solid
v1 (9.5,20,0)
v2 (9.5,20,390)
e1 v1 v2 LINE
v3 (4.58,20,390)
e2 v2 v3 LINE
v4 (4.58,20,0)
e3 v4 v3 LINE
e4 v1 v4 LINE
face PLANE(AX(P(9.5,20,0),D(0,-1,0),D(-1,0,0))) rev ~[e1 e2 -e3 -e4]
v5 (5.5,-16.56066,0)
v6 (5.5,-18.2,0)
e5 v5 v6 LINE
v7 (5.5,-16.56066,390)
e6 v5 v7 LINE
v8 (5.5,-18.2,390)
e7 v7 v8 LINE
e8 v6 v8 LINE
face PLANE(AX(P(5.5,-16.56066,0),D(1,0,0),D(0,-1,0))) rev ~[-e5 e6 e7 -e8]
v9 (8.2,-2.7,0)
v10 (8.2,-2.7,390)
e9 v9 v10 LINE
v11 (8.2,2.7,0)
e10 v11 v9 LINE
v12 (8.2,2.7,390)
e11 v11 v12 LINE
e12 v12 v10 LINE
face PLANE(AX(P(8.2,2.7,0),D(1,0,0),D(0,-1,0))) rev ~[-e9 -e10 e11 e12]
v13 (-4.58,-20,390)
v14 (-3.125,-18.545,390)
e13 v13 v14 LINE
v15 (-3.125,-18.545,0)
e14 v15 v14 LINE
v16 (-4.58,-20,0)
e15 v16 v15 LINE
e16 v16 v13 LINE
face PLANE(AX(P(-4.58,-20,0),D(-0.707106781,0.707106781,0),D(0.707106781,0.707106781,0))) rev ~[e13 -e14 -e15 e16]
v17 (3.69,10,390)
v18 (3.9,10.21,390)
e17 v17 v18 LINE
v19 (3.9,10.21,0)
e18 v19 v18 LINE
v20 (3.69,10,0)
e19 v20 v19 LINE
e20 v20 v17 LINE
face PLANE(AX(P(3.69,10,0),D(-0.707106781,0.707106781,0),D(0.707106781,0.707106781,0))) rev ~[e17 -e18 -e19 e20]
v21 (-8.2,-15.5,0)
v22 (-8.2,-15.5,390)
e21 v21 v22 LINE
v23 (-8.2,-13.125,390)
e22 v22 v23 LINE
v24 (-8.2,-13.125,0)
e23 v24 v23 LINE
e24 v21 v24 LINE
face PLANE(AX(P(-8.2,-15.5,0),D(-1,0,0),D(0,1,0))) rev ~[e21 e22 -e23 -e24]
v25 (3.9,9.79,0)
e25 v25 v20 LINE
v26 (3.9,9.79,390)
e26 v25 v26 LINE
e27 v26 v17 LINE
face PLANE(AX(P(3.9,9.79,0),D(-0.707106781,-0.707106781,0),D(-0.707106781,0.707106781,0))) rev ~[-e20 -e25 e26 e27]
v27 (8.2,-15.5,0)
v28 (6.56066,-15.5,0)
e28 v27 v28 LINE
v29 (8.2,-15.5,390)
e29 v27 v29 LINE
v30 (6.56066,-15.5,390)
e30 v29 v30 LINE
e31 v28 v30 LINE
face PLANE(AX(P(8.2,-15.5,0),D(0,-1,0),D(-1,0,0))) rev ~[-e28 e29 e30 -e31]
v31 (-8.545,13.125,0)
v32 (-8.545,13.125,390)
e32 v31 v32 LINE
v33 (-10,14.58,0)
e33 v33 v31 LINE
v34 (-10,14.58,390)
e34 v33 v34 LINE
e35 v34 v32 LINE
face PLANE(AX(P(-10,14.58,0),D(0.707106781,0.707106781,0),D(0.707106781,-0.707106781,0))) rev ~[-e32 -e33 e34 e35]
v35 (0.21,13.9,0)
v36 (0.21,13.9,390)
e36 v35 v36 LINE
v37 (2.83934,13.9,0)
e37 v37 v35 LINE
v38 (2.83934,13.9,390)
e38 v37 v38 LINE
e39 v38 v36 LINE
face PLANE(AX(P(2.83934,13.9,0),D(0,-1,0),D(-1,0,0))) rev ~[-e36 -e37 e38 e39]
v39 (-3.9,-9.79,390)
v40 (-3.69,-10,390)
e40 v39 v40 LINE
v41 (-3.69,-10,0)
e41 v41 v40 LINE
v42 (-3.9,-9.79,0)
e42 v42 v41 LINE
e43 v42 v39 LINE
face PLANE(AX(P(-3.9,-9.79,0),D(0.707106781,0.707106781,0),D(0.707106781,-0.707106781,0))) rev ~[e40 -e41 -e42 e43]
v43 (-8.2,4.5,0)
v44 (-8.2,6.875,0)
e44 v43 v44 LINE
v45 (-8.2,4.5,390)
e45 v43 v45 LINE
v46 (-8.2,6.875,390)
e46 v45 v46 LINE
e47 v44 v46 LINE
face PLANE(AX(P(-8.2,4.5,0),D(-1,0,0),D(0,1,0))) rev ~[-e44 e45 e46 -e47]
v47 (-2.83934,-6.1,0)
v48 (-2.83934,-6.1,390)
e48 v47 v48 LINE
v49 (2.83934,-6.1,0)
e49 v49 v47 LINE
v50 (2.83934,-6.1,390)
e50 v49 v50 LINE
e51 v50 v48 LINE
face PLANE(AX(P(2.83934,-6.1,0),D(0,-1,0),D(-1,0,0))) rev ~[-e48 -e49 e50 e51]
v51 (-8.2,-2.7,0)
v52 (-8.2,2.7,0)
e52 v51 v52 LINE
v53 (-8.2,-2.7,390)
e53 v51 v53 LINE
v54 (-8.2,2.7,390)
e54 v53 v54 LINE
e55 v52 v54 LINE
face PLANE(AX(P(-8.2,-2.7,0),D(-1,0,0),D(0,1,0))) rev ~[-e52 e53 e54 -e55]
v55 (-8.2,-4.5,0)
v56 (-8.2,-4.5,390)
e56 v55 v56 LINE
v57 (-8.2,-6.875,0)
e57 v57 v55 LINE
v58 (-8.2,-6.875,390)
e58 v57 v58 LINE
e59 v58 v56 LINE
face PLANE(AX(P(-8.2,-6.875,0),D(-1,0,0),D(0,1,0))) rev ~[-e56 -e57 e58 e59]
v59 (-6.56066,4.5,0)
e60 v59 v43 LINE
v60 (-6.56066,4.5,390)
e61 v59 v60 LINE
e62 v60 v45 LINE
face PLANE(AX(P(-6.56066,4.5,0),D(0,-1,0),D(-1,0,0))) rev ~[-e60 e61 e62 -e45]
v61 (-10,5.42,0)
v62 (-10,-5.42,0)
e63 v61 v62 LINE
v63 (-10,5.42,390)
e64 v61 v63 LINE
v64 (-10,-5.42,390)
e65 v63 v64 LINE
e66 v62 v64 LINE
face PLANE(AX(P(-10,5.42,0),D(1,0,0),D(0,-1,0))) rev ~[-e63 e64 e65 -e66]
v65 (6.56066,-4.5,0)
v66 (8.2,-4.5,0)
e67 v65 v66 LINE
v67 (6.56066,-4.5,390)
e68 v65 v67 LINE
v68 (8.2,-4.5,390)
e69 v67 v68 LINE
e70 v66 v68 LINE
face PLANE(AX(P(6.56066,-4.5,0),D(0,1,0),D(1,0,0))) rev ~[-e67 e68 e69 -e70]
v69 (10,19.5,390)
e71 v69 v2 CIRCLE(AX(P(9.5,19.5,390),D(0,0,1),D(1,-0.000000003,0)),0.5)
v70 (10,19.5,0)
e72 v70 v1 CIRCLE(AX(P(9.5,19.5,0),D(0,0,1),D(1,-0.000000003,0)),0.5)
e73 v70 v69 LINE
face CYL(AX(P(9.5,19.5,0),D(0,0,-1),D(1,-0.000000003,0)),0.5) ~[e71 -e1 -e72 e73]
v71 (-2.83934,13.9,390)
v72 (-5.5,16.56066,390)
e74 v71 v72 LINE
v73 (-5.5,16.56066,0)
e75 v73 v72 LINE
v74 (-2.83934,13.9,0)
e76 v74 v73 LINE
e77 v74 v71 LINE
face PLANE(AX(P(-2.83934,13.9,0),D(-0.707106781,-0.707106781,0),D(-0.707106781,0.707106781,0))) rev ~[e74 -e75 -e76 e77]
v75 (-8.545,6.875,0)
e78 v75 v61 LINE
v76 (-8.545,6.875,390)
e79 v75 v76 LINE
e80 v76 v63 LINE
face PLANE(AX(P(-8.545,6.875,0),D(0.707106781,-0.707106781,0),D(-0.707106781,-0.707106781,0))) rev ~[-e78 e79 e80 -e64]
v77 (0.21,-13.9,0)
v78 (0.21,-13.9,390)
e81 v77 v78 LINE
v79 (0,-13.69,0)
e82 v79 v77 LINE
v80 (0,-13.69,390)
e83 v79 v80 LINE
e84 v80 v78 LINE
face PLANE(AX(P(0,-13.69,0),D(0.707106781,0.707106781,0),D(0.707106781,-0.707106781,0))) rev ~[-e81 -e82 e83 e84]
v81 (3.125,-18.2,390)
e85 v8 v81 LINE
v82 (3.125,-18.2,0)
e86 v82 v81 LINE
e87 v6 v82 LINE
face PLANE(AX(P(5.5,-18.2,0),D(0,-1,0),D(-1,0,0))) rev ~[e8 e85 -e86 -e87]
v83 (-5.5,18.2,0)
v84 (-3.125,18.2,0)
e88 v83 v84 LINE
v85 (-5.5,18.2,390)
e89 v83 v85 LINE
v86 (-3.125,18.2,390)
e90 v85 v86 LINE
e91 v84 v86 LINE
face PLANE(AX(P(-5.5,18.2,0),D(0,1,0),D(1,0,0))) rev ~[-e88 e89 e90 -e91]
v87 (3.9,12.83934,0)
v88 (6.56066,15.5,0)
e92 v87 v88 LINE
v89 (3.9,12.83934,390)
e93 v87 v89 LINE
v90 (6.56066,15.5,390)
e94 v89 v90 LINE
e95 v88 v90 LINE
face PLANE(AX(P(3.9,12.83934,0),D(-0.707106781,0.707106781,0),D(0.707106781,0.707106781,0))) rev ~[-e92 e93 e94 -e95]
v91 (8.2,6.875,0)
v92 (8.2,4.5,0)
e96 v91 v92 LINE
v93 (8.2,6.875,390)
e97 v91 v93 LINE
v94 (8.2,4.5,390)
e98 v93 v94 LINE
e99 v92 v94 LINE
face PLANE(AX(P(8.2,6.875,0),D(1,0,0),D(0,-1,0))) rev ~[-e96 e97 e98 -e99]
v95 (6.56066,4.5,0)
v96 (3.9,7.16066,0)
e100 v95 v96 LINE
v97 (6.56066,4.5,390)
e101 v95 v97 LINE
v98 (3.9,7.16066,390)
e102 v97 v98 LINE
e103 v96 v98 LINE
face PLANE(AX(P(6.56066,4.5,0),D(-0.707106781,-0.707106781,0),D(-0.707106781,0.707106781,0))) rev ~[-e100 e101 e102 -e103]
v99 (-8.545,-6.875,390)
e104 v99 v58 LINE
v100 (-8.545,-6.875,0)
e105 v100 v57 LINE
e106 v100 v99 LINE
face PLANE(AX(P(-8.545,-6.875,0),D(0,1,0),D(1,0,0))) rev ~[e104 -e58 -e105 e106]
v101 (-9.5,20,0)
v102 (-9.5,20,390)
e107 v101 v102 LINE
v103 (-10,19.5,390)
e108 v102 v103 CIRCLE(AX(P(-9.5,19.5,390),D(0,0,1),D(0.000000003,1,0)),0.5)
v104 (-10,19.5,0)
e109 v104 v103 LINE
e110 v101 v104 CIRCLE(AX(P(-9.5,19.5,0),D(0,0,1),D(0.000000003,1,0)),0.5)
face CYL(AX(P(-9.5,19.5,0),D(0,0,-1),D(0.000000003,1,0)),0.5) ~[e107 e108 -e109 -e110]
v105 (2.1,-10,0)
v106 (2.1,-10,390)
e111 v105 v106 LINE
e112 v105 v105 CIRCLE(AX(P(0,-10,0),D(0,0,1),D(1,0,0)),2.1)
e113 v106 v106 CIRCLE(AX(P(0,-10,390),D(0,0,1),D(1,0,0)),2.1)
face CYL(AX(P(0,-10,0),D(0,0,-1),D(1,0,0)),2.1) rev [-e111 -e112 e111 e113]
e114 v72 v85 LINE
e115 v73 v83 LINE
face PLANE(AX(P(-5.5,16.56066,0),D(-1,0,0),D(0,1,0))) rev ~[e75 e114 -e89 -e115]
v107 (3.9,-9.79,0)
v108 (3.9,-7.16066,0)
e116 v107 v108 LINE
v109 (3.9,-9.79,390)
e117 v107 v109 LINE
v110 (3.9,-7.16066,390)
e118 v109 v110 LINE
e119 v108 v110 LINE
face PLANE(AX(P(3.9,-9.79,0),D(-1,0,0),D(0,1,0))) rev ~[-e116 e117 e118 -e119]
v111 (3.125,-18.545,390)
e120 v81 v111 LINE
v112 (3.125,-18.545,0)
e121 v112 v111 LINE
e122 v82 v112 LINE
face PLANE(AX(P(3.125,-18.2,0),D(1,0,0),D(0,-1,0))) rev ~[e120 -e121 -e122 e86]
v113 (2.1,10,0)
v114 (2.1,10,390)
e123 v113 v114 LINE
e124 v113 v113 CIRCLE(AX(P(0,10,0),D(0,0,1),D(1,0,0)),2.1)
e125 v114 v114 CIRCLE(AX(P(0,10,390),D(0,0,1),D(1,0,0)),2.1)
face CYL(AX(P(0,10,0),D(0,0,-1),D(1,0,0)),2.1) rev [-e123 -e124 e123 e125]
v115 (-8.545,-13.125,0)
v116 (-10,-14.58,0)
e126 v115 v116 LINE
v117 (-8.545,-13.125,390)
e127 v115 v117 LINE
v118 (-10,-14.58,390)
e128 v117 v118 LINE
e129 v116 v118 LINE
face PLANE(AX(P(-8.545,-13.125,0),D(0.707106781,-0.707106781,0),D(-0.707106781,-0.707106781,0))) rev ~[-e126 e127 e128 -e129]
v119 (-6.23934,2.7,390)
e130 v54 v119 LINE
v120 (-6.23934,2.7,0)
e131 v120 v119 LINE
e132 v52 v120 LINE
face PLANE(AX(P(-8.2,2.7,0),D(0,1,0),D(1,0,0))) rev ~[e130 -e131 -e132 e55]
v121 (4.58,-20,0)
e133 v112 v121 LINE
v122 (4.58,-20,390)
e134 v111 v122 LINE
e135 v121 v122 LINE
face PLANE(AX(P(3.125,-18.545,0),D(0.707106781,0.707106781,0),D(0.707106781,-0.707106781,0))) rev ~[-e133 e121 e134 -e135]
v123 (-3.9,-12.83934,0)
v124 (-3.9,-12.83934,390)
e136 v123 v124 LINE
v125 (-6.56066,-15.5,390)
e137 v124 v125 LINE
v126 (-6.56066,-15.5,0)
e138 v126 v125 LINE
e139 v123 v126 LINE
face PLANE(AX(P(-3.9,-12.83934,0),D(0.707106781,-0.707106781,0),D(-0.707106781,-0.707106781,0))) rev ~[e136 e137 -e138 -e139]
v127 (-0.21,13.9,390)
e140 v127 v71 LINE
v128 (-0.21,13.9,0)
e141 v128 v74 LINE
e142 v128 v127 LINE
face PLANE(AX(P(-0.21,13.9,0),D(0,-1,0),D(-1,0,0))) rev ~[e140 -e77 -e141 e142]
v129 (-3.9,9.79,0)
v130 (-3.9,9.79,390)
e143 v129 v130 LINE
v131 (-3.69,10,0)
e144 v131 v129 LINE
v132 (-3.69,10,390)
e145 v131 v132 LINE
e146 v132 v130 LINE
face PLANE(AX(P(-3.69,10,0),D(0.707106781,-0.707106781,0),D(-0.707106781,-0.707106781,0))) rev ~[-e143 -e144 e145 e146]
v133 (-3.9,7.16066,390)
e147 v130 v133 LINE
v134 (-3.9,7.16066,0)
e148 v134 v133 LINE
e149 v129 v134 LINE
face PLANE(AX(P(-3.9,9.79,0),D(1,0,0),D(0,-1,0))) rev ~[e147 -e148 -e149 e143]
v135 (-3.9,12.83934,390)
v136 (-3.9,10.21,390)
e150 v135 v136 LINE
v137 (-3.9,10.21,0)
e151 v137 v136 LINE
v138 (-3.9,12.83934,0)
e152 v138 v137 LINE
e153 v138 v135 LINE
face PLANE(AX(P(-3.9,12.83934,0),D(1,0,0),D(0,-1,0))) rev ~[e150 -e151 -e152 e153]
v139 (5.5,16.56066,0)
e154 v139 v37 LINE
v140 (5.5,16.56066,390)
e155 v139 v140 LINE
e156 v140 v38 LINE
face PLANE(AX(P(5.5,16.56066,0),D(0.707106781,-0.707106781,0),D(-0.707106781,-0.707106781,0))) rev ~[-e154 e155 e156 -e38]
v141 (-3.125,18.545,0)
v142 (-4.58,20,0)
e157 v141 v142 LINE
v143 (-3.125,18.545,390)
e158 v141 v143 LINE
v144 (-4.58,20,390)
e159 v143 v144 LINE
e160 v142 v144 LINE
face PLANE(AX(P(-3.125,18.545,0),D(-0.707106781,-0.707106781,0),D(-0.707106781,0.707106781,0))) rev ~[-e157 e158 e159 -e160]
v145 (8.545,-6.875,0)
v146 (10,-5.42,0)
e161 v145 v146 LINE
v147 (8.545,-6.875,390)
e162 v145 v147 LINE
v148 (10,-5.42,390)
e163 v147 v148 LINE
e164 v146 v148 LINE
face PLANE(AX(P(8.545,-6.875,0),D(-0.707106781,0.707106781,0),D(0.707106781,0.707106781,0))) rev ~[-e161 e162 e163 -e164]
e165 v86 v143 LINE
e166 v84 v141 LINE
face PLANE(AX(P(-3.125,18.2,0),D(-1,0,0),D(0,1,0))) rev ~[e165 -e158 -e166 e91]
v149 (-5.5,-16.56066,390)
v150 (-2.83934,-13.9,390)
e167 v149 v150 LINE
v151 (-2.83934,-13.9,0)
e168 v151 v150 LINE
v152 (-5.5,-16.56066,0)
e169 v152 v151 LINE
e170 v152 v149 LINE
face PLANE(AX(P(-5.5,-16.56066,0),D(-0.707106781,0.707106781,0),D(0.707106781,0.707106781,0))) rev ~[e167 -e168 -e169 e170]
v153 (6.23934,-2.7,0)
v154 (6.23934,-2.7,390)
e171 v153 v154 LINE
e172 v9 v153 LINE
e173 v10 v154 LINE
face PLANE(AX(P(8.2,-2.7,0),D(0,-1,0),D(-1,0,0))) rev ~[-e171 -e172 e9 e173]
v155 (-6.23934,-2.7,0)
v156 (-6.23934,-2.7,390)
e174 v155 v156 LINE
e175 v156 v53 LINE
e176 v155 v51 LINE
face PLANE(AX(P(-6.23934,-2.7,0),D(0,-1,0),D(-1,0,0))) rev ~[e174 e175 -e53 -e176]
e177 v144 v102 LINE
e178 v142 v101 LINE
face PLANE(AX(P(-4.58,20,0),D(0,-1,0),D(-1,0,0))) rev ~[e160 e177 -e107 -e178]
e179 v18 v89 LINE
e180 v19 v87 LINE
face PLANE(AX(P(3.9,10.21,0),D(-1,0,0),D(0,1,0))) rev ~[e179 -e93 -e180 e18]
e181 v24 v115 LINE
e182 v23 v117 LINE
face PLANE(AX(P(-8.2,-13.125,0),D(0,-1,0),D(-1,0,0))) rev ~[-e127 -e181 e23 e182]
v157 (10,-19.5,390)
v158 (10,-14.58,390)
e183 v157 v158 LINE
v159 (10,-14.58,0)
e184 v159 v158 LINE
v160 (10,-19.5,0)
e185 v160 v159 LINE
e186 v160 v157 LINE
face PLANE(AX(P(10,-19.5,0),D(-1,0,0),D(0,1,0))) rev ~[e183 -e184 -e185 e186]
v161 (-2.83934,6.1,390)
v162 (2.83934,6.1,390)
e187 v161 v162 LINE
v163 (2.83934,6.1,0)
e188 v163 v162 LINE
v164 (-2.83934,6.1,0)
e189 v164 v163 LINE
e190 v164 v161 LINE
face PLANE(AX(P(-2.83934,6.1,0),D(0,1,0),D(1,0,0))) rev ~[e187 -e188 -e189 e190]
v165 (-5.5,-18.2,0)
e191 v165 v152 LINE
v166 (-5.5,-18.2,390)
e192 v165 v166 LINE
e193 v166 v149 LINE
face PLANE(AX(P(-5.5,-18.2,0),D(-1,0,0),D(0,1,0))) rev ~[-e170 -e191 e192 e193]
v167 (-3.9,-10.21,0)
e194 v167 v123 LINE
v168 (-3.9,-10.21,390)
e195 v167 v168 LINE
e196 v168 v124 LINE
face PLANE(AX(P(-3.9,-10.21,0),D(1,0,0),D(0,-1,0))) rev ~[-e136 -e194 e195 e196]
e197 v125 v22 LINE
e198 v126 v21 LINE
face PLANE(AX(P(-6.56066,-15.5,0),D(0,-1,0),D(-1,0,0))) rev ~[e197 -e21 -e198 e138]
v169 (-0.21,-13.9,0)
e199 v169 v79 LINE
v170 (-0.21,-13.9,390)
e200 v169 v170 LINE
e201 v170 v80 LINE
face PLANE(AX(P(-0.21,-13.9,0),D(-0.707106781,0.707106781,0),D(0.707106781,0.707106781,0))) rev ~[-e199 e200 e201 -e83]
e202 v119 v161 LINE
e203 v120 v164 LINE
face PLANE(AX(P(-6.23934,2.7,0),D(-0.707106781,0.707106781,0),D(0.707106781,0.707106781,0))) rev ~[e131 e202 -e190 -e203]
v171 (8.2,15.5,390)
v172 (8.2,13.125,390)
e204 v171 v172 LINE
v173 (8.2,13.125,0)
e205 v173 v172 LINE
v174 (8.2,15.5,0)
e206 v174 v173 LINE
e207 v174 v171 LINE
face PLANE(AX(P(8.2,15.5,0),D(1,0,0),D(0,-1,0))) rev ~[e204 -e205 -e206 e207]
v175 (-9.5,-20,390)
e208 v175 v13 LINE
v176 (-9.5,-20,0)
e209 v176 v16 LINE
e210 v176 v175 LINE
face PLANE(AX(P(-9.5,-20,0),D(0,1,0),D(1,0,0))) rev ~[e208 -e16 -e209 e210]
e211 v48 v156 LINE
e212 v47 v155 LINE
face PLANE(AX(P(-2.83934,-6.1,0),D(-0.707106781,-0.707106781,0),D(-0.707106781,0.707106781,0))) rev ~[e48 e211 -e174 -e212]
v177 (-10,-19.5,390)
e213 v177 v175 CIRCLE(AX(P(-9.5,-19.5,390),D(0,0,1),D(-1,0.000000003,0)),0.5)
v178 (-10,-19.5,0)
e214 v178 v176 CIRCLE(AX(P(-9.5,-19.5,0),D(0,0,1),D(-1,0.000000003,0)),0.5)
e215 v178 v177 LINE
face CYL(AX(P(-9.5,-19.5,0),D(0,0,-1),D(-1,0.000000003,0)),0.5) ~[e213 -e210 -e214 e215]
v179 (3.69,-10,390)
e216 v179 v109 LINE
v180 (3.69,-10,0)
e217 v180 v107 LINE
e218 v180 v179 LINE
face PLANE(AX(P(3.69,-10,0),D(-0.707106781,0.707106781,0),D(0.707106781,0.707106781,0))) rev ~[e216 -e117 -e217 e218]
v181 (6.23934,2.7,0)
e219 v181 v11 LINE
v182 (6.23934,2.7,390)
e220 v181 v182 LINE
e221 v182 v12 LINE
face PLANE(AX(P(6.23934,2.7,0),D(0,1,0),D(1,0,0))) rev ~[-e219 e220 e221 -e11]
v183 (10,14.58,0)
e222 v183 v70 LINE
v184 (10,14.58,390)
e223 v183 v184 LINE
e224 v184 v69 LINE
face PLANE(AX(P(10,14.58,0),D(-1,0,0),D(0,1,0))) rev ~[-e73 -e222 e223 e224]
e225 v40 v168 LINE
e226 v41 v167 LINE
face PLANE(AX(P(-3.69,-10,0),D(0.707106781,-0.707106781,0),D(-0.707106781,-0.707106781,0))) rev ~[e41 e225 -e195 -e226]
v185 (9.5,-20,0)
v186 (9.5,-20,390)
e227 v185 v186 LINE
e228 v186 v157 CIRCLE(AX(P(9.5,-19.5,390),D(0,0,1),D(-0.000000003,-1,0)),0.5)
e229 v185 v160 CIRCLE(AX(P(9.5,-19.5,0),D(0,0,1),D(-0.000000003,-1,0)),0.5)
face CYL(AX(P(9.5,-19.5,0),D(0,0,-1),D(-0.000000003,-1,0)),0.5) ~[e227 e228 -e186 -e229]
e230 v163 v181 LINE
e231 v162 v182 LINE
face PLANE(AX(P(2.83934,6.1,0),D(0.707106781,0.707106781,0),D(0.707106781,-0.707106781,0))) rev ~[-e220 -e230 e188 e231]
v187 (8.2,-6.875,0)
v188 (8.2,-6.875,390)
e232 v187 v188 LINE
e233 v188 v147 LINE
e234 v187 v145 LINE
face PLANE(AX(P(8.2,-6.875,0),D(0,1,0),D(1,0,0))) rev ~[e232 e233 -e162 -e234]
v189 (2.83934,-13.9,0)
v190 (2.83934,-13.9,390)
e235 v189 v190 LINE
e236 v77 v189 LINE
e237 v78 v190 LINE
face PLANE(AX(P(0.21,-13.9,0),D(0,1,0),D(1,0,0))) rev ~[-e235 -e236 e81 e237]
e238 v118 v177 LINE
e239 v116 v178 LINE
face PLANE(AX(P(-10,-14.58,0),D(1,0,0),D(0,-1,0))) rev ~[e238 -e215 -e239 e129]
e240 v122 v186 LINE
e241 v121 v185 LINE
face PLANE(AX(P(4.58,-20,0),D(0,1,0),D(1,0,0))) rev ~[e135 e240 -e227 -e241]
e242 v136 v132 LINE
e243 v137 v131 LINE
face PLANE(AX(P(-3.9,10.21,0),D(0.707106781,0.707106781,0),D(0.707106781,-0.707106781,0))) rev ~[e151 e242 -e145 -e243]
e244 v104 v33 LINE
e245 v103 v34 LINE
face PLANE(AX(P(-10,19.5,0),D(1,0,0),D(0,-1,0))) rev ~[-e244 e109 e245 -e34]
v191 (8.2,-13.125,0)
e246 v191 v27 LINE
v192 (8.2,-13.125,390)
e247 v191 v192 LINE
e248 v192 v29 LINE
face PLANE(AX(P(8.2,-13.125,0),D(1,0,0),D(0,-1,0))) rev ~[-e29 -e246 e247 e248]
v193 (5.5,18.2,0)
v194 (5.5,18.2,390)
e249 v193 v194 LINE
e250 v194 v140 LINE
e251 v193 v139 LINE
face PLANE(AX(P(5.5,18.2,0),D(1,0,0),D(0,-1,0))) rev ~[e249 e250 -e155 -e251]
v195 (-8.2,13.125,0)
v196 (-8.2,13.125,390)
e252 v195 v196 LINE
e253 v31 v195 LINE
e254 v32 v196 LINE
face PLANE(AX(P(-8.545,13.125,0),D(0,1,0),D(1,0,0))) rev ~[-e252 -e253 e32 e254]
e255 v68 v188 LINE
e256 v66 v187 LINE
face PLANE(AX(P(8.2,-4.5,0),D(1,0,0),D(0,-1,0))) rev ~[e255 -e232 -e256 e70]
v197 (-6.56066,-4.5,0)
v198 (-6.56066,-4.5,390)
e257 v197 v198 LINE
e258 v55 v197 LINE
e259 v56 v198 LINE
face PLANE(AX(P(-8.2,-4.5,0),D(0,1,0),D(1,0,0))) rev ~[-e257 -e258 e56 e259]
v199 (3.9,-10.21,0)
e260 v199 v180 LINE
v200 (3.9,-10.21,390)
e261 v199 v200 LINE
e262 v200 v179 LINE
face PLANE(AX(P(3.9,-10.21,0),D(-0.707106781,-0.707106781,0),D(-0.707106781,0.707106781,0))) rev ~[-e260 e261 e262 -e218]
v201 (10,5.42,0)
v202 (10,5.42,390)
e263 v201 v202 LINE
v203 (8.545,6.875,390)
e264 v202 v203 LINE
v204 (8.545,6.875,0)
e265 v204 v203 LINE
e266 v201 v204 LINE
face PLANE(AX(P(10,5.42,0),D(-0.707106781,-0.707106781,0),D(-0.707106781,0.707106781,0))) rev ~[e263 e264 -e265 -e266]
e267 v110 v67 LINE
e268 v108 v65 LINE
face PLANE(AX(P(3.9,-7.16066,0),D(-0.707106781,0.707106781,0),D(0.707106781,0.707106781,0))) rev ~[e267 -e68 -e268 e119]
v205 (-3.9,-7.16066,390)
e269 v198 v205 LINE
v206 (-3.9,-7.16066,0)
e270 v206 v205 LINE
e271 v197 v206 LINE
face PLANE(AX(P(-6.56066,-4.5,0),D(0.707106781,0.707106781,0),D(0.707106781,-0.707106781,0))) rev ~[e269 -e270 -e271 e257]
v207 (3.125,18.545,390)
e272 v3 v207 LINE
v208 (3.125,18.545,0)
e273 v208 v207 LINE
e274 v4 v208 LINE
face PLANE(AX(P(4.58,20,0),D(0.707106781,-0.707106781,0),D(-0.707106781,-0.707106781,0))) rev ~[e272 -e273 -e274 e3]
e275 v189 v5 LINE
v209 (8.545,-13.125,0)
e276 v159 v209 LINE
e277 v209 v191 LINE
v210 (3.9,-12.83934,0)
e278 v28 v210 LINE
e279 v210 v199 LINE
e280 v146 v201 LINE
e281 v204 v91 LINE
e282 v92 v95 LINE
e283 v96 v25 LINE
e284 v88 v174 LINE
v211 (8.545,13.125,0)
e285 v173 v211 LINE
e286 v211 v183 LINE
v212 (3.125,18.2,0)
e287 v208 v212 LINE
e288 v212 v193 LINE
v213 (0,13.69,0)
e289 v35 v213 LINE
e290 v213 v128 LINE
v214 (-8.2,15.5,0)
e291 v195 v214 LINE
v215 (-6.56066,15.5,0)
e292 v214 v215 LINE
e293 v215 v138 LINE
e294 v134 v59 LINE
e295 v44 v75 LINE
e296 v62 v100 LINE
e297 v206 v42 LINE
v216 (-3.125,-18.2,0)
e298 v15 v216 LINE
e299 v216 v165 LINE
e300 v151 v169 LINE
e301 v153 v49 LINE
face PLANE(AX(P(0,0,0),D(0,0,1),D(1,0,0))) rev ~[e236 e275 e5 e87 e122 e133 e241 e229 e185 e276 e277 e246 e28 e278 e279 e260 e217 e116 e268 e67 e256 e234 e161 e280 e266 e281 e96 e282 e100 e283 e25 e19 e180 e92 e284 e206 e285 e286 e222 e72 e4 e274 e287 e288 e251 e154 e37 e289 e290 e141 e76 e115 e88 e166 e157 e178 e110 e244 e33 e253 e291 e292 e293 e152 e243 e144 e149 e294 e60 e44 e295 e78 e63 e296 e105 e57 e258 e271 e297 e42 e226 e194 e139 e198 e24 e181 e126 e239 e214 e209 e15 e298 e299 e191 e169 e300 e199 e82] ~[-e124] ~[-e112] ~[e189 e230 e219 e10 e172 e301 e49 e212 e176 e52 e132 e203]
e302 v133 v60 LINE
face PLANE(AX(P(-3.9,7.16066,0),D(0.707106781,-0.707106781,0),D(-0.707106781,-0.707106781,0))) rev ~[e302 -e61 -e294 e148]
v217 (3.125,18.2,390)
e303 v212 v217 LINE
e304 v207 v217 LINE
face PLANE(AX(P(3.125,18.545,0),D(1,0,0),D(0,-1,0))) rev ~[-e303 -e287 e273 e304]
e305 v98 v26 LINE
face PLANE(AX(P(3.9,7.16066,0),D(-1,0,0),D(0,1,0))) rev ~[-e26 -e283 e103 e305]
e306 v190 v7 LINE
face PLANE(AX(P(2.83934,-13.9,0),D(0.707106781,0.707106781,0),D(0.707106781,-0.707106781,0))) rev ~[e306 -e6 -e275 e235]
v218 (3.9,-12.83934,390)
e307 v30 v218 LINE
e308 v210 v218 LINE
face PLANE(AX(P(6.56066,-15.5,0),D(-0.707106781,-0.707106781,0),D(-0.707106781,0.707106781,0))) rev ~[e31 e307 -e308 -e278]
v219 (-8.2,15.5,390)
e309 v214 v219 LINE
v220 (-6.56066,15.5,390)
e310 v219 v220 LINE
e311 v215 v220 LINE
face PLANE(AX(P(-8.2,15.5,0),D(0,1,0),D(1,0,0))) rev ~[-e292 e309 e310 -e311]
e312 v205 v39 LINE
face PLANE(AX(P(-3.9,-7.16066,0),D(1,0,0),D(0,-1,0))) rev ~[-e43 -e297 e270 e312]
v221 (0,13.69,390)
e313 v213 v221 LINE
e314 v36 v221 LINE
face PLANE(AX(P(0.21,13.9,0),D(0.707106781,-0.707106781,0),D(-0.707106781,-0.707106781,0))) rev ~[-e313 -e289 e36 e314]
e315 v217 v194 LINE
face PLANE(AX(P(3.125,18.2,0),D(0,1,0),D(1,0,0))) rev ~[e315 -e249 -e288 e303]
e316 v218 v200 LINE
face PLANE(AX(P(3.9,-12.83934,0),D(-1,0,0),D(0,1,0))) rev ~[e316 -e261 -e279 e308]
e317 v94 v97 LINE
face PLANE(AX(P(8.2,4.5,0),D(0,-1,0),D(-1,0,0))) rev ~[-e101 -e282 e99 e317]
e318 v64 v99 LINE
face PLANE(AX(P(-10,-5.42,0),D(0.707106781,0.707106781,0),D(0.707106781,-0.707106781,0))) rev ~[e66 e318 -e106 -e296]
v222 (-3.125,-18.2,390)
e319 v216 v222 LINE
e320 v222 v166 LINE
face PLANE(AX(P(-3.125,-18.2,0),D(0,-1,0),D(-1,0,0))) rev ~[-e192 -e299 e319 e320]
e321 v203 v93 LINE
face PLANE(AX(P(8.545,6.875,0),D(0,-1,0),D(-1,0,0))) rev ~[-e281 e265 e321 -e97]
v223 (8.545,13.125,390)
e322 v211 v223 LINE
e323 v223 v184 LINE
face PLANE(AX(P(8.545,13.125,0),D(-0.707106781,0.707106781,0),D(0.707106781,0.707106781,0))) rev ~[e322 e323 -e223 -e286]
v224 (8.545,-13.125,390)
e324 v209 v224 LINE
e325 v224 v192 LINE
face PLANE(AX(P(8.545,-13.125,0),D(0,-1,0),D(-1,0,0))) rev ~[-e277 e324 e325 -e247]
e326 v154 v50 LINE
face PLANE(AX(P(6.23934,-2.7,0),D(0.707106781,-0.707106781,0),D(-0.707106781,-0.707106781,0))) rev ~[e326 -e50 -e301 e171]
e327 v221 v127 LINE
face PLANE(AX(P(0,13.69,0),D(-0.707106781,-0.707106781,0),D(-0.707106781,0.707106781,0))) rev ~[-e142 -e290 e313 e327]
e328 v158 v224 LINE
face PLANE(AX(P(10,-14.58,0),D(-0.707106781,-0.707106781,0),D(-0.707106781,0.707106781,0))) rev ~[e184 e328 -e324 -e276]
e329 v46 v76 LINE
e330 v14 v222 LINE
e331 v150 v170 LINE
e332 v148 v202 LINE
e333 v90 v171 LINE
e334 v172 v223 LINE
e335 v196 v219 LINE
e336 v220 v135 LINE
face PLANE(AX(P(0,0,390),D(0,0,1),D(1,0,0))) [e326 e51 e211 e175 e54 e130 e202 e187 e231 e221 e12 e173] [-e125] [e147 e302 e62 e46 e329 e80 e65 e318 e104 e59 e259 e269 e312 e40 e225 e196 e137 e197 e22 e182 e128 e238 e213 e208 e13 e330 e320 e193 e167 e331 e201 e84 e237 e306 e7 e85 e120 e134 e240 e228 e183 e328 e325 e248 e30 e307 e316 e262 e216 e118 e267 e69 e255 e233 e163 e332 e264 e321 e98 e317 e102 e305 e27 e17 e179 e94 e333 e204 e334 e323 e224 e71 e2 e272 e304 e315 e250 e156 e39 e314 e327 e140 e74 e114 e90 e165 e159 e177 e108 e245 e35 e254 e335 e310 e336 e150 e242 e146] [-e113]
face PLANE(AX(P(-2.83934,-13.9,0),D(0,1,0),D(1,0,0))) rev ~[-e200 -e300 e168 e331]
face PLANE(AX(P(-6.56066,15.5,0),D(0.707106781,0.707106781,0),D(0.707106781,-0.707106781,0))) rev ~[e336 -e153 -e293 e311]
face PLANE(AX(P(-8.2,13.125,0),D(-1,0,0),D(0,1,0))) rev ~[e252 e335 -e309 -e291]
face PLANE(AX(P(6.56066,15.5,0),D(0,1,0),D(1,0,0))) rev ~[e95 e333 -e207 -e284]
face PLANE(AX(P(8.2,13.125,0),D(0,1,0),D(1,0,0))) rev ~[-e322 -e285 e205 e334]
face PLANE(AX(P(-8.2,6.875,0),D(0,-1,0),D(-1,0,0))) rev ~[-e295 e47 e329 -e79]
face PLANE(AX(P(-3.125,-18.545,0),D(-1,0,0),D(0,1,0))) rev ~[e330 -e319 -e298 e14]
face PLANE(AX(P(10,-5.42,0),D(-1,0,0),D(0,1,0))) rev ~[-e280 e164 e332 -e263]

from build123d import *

# Parameters (mm, degrees)
SKETCH1_R           = 2.1
BOSS_EXTRUDE1_DEPTH = 390


with BuildPart() as part:
    # Sketch1 → Boss-Extrude1 (new body)
    with BuildSketch(Plane.XY):
        with BuildLine():
            Line((4.58, -20), (9.5, -20))
            ThreePointArc((9.5, -20), (9.853553391, -19.853553391), (10, -19.5))
            Line((10, -19.5), (10, -14.58))
            Line((10, -14.58), (8.545, -13.125))
            Line((8.545, -13.125), (8.2, -13.125))
            Line((8.2, -13.125), (8.2, -15.5))
            Line((8.2, -15.5), (6.560660172, -15.5))
            Line((6.560660172, -15.5), (3.9, -12.839339828))
            Line((3.9, -12.839339828), (3.9, -10.21))
            Line((3.9, -10.21), (3.69, -10))
            Line((3.69, -10), (3.9, -9.79))
            Line((3.9, -9.79), (3.9, -7.160660172))
            Line((3.9, -7.160660172), (6.560660172, -4.5))
            Line((6.560660172, -4.5), (8.2, -4.5))
            Line((8.2, -4.5), (8.2, -6.875))
            Line((8.2, -6.875), (8.545, -6.875))
            Line((8.545, -6.875), (10, -5.42))
            Line((10, -5.42), (10, 5.42))
            Line((10, 5.42), (8.545, 6.875))
            Line((8.545, 6.875), (8.2, 6.875))
            Line((8.2, 6.875), (8.2, 4.5))
            Line((8.2, 4.5), (6.560660172, 4.5))
            Line((6.560660172, 4.5), (3.9, 7.160660172))
            Line((3.9, 7.160660172), (3.9, 9.79))
            Line((3.9, 9.79), (3.69, 10))
            Line((3.69, 10), (3.9, 10.21))
            Line((3.9, 10.21), (3.9, 12.839339828))
            Line((3.9, 12.839339828), (6.560660172, 15.5))
            Line((6.560660172, 15.5), (8.2, 15.5))
            Line((8.2, 15.5), (8.2, 13.125))
            Line((8.2, 13.125), (8.545, 13.125))
            Line((8.545, 13.125), (10, 14.58))
            Line((10, 14.58), (10, 19.5))
            ThreePointArc((10, 19.5), (9.853553391, 19.853553391), (9.5, 20))
            Line((9.5, 20), (4.58, 20))
            Line((4.58, 20), (3.125, 18.545))
            Line((3.125, 18.545), (3.125, 18.2))
            Line((3.125, 18.2), (5.5, 18.2))
            Line((5.5, 18.2), (5.5, 16.560660172))
            Line((5.5, 16.560660172), (2.839339828, 13.9))
            Line((2.839339828, 13.9), (0.21, 13.9))
            Line((0.21, 13.9), (0, 13.69))
            Line((0, 13.69), (-0.21, 13.9))
            Line((-0.21, 13.9), (-2.839339828, 13.9))
            Line((-2.839339828, 13.9), (-5.5, 16.560660172))
            Line((-5.5, 16.560660172), (-5.5, 18.2))
            Line((-5.5, 18.2), (-3.125, 18.2))
            Line((-3.125, 18.2), (-3.125, 18.545))
            Line((-3.125, 18.545), (-4.58, 20))
            Line((-4.58, 20), (-9.5, 20))
            ThreePointArc((-9.5, 20), (-9.853553391, 19.853553391), (-10, 19.5))
            Line((-10, 19.5), (-10, 14.58))
            Line((-10, 14.58), (-8.545, 13.125))
            Line((-8.545, 13.125), (-8.2, 13.125))
            Line((-8.2, 13.125), (-8.2, 15.5))
            Line((-8.2, 15.5), (-6.560660172, 15.5))
            Line((-6.560660172, 15.5), (-3.9, 12.839339828))
            Line((-3.9, 12.839339828), (-3.9, 10.21))
            Line((-3.9, 10.21), (-3.69, 10))
            Line((-3.69, 10), (-3.9, 9.79))
            Line((-3.9, 9.79), (-3.9, 7.160660172))
            Line((-3.9, 7.160660172), (-6.560660172, 4.5))
            Line((-6.560660172, 4.5), (-8.2, 4.5))
            Line((-8.2, 4.5), (-8.2, 6.875))
            Line((-8.2, 6.875), (-8.545, 6.875))
            Line((-8.545, 6.875), (-10, 5.42))
            Line((-10, 5.42), (-10, -5.42))
            Line((-10, -5.42), (-8.545, -6.875))
            Line((-8.545, -6.875), (-8.2, -6.875))
            Line((-8.2, -6.875), (-8.2, -4.5))
            Line((-8.2, -4.5), (-6.560660172, -4.5))
            Line((-6.560660172, -4.5), (-3.9, -7.160660172))
            Line((-3.9, -7.160660172), (-3.9, -9.79))
            Line((-3.9, -9.79), (-3.69, -10))
            Line((-3.69, -10), (-3.9, -10.21))
            Line((-3.9, -10.21), (-3.9, -12.839339828))
            Line((-3.9, -12.839339828), (-6.560660172, -15.5))
            Line((-6.560660172, -15.5), (-8.2, -15.5))
            Line((-8.2, -15.5), (-8.2, -13.125))
            Line((-8.2, -13.125), (-8.545, -13.125))
            Line((-8.545, -13.125), (-10, -14.58))
            Line((-10, -14.58), (-10, -19.5))
            ThreePointArc((-10, -19.5), (-9.853553391, -19.853553391), (-9.5, -20))
            Line((-9.5, -20), (-4.58, -20))
            Line((-4.58, -20), (-3.125, -18.545))
            Line((-3.125, -18.545), (-3.125, -18.2))
            Line((-3.125, -18.2), (-5.5, -18.2))
            Line((-5.5, -18.2), (-5.5, -16.560660172))
            Line((-5.5, -16.560660172), (-2.839339828, -13.9))
            Line((-2.839339828, -13.9), (-0.21, -13.9))
            Line((-0.21, -13.9), (0, -13.69))
            Line((0, -13.69), (0.21, -13.9))
            Line((0.21, -13.9), (2.839339828, -13.9))
            Line((2.839339828, -13.9), (5.5, -16.560660172))
            Line((5.5, -16.560660172), (5.5, -18.2))
            Line((5.5, -18.2), (3.125, -18.2))
            Line((3.125, -18.2), (3.125, -18.545))
            Line((3.125, -18.545), (4.58, -20))
        make_face()
        with Locations((0, -10)):
            Circle(SKETCH1_R, mode=Mode.SUBTRACT)
        Polygon((-6.239339828, -2.7), (-8.2, -2.7), (-8.2, 2.7), (-6.239339828, 2.7), (-2.839339828, 6.1), (2.839339828, 6.1), (6.239339828, 2.7), (8.2, 2.7), (8.2, -2.7), (6.239339828, -2.7), (2.839339828, -6.1), (-2.839339828, -6.1), align=None, mode=Mode.SUBTRACT)
        with Locations((0, 10)):
            Circle(SKETCH1_R, mode=Mode.SUBTRACT)
    extrude(amount=BOSS_EXTRUDE1_DEPTH)


solid = part.part
